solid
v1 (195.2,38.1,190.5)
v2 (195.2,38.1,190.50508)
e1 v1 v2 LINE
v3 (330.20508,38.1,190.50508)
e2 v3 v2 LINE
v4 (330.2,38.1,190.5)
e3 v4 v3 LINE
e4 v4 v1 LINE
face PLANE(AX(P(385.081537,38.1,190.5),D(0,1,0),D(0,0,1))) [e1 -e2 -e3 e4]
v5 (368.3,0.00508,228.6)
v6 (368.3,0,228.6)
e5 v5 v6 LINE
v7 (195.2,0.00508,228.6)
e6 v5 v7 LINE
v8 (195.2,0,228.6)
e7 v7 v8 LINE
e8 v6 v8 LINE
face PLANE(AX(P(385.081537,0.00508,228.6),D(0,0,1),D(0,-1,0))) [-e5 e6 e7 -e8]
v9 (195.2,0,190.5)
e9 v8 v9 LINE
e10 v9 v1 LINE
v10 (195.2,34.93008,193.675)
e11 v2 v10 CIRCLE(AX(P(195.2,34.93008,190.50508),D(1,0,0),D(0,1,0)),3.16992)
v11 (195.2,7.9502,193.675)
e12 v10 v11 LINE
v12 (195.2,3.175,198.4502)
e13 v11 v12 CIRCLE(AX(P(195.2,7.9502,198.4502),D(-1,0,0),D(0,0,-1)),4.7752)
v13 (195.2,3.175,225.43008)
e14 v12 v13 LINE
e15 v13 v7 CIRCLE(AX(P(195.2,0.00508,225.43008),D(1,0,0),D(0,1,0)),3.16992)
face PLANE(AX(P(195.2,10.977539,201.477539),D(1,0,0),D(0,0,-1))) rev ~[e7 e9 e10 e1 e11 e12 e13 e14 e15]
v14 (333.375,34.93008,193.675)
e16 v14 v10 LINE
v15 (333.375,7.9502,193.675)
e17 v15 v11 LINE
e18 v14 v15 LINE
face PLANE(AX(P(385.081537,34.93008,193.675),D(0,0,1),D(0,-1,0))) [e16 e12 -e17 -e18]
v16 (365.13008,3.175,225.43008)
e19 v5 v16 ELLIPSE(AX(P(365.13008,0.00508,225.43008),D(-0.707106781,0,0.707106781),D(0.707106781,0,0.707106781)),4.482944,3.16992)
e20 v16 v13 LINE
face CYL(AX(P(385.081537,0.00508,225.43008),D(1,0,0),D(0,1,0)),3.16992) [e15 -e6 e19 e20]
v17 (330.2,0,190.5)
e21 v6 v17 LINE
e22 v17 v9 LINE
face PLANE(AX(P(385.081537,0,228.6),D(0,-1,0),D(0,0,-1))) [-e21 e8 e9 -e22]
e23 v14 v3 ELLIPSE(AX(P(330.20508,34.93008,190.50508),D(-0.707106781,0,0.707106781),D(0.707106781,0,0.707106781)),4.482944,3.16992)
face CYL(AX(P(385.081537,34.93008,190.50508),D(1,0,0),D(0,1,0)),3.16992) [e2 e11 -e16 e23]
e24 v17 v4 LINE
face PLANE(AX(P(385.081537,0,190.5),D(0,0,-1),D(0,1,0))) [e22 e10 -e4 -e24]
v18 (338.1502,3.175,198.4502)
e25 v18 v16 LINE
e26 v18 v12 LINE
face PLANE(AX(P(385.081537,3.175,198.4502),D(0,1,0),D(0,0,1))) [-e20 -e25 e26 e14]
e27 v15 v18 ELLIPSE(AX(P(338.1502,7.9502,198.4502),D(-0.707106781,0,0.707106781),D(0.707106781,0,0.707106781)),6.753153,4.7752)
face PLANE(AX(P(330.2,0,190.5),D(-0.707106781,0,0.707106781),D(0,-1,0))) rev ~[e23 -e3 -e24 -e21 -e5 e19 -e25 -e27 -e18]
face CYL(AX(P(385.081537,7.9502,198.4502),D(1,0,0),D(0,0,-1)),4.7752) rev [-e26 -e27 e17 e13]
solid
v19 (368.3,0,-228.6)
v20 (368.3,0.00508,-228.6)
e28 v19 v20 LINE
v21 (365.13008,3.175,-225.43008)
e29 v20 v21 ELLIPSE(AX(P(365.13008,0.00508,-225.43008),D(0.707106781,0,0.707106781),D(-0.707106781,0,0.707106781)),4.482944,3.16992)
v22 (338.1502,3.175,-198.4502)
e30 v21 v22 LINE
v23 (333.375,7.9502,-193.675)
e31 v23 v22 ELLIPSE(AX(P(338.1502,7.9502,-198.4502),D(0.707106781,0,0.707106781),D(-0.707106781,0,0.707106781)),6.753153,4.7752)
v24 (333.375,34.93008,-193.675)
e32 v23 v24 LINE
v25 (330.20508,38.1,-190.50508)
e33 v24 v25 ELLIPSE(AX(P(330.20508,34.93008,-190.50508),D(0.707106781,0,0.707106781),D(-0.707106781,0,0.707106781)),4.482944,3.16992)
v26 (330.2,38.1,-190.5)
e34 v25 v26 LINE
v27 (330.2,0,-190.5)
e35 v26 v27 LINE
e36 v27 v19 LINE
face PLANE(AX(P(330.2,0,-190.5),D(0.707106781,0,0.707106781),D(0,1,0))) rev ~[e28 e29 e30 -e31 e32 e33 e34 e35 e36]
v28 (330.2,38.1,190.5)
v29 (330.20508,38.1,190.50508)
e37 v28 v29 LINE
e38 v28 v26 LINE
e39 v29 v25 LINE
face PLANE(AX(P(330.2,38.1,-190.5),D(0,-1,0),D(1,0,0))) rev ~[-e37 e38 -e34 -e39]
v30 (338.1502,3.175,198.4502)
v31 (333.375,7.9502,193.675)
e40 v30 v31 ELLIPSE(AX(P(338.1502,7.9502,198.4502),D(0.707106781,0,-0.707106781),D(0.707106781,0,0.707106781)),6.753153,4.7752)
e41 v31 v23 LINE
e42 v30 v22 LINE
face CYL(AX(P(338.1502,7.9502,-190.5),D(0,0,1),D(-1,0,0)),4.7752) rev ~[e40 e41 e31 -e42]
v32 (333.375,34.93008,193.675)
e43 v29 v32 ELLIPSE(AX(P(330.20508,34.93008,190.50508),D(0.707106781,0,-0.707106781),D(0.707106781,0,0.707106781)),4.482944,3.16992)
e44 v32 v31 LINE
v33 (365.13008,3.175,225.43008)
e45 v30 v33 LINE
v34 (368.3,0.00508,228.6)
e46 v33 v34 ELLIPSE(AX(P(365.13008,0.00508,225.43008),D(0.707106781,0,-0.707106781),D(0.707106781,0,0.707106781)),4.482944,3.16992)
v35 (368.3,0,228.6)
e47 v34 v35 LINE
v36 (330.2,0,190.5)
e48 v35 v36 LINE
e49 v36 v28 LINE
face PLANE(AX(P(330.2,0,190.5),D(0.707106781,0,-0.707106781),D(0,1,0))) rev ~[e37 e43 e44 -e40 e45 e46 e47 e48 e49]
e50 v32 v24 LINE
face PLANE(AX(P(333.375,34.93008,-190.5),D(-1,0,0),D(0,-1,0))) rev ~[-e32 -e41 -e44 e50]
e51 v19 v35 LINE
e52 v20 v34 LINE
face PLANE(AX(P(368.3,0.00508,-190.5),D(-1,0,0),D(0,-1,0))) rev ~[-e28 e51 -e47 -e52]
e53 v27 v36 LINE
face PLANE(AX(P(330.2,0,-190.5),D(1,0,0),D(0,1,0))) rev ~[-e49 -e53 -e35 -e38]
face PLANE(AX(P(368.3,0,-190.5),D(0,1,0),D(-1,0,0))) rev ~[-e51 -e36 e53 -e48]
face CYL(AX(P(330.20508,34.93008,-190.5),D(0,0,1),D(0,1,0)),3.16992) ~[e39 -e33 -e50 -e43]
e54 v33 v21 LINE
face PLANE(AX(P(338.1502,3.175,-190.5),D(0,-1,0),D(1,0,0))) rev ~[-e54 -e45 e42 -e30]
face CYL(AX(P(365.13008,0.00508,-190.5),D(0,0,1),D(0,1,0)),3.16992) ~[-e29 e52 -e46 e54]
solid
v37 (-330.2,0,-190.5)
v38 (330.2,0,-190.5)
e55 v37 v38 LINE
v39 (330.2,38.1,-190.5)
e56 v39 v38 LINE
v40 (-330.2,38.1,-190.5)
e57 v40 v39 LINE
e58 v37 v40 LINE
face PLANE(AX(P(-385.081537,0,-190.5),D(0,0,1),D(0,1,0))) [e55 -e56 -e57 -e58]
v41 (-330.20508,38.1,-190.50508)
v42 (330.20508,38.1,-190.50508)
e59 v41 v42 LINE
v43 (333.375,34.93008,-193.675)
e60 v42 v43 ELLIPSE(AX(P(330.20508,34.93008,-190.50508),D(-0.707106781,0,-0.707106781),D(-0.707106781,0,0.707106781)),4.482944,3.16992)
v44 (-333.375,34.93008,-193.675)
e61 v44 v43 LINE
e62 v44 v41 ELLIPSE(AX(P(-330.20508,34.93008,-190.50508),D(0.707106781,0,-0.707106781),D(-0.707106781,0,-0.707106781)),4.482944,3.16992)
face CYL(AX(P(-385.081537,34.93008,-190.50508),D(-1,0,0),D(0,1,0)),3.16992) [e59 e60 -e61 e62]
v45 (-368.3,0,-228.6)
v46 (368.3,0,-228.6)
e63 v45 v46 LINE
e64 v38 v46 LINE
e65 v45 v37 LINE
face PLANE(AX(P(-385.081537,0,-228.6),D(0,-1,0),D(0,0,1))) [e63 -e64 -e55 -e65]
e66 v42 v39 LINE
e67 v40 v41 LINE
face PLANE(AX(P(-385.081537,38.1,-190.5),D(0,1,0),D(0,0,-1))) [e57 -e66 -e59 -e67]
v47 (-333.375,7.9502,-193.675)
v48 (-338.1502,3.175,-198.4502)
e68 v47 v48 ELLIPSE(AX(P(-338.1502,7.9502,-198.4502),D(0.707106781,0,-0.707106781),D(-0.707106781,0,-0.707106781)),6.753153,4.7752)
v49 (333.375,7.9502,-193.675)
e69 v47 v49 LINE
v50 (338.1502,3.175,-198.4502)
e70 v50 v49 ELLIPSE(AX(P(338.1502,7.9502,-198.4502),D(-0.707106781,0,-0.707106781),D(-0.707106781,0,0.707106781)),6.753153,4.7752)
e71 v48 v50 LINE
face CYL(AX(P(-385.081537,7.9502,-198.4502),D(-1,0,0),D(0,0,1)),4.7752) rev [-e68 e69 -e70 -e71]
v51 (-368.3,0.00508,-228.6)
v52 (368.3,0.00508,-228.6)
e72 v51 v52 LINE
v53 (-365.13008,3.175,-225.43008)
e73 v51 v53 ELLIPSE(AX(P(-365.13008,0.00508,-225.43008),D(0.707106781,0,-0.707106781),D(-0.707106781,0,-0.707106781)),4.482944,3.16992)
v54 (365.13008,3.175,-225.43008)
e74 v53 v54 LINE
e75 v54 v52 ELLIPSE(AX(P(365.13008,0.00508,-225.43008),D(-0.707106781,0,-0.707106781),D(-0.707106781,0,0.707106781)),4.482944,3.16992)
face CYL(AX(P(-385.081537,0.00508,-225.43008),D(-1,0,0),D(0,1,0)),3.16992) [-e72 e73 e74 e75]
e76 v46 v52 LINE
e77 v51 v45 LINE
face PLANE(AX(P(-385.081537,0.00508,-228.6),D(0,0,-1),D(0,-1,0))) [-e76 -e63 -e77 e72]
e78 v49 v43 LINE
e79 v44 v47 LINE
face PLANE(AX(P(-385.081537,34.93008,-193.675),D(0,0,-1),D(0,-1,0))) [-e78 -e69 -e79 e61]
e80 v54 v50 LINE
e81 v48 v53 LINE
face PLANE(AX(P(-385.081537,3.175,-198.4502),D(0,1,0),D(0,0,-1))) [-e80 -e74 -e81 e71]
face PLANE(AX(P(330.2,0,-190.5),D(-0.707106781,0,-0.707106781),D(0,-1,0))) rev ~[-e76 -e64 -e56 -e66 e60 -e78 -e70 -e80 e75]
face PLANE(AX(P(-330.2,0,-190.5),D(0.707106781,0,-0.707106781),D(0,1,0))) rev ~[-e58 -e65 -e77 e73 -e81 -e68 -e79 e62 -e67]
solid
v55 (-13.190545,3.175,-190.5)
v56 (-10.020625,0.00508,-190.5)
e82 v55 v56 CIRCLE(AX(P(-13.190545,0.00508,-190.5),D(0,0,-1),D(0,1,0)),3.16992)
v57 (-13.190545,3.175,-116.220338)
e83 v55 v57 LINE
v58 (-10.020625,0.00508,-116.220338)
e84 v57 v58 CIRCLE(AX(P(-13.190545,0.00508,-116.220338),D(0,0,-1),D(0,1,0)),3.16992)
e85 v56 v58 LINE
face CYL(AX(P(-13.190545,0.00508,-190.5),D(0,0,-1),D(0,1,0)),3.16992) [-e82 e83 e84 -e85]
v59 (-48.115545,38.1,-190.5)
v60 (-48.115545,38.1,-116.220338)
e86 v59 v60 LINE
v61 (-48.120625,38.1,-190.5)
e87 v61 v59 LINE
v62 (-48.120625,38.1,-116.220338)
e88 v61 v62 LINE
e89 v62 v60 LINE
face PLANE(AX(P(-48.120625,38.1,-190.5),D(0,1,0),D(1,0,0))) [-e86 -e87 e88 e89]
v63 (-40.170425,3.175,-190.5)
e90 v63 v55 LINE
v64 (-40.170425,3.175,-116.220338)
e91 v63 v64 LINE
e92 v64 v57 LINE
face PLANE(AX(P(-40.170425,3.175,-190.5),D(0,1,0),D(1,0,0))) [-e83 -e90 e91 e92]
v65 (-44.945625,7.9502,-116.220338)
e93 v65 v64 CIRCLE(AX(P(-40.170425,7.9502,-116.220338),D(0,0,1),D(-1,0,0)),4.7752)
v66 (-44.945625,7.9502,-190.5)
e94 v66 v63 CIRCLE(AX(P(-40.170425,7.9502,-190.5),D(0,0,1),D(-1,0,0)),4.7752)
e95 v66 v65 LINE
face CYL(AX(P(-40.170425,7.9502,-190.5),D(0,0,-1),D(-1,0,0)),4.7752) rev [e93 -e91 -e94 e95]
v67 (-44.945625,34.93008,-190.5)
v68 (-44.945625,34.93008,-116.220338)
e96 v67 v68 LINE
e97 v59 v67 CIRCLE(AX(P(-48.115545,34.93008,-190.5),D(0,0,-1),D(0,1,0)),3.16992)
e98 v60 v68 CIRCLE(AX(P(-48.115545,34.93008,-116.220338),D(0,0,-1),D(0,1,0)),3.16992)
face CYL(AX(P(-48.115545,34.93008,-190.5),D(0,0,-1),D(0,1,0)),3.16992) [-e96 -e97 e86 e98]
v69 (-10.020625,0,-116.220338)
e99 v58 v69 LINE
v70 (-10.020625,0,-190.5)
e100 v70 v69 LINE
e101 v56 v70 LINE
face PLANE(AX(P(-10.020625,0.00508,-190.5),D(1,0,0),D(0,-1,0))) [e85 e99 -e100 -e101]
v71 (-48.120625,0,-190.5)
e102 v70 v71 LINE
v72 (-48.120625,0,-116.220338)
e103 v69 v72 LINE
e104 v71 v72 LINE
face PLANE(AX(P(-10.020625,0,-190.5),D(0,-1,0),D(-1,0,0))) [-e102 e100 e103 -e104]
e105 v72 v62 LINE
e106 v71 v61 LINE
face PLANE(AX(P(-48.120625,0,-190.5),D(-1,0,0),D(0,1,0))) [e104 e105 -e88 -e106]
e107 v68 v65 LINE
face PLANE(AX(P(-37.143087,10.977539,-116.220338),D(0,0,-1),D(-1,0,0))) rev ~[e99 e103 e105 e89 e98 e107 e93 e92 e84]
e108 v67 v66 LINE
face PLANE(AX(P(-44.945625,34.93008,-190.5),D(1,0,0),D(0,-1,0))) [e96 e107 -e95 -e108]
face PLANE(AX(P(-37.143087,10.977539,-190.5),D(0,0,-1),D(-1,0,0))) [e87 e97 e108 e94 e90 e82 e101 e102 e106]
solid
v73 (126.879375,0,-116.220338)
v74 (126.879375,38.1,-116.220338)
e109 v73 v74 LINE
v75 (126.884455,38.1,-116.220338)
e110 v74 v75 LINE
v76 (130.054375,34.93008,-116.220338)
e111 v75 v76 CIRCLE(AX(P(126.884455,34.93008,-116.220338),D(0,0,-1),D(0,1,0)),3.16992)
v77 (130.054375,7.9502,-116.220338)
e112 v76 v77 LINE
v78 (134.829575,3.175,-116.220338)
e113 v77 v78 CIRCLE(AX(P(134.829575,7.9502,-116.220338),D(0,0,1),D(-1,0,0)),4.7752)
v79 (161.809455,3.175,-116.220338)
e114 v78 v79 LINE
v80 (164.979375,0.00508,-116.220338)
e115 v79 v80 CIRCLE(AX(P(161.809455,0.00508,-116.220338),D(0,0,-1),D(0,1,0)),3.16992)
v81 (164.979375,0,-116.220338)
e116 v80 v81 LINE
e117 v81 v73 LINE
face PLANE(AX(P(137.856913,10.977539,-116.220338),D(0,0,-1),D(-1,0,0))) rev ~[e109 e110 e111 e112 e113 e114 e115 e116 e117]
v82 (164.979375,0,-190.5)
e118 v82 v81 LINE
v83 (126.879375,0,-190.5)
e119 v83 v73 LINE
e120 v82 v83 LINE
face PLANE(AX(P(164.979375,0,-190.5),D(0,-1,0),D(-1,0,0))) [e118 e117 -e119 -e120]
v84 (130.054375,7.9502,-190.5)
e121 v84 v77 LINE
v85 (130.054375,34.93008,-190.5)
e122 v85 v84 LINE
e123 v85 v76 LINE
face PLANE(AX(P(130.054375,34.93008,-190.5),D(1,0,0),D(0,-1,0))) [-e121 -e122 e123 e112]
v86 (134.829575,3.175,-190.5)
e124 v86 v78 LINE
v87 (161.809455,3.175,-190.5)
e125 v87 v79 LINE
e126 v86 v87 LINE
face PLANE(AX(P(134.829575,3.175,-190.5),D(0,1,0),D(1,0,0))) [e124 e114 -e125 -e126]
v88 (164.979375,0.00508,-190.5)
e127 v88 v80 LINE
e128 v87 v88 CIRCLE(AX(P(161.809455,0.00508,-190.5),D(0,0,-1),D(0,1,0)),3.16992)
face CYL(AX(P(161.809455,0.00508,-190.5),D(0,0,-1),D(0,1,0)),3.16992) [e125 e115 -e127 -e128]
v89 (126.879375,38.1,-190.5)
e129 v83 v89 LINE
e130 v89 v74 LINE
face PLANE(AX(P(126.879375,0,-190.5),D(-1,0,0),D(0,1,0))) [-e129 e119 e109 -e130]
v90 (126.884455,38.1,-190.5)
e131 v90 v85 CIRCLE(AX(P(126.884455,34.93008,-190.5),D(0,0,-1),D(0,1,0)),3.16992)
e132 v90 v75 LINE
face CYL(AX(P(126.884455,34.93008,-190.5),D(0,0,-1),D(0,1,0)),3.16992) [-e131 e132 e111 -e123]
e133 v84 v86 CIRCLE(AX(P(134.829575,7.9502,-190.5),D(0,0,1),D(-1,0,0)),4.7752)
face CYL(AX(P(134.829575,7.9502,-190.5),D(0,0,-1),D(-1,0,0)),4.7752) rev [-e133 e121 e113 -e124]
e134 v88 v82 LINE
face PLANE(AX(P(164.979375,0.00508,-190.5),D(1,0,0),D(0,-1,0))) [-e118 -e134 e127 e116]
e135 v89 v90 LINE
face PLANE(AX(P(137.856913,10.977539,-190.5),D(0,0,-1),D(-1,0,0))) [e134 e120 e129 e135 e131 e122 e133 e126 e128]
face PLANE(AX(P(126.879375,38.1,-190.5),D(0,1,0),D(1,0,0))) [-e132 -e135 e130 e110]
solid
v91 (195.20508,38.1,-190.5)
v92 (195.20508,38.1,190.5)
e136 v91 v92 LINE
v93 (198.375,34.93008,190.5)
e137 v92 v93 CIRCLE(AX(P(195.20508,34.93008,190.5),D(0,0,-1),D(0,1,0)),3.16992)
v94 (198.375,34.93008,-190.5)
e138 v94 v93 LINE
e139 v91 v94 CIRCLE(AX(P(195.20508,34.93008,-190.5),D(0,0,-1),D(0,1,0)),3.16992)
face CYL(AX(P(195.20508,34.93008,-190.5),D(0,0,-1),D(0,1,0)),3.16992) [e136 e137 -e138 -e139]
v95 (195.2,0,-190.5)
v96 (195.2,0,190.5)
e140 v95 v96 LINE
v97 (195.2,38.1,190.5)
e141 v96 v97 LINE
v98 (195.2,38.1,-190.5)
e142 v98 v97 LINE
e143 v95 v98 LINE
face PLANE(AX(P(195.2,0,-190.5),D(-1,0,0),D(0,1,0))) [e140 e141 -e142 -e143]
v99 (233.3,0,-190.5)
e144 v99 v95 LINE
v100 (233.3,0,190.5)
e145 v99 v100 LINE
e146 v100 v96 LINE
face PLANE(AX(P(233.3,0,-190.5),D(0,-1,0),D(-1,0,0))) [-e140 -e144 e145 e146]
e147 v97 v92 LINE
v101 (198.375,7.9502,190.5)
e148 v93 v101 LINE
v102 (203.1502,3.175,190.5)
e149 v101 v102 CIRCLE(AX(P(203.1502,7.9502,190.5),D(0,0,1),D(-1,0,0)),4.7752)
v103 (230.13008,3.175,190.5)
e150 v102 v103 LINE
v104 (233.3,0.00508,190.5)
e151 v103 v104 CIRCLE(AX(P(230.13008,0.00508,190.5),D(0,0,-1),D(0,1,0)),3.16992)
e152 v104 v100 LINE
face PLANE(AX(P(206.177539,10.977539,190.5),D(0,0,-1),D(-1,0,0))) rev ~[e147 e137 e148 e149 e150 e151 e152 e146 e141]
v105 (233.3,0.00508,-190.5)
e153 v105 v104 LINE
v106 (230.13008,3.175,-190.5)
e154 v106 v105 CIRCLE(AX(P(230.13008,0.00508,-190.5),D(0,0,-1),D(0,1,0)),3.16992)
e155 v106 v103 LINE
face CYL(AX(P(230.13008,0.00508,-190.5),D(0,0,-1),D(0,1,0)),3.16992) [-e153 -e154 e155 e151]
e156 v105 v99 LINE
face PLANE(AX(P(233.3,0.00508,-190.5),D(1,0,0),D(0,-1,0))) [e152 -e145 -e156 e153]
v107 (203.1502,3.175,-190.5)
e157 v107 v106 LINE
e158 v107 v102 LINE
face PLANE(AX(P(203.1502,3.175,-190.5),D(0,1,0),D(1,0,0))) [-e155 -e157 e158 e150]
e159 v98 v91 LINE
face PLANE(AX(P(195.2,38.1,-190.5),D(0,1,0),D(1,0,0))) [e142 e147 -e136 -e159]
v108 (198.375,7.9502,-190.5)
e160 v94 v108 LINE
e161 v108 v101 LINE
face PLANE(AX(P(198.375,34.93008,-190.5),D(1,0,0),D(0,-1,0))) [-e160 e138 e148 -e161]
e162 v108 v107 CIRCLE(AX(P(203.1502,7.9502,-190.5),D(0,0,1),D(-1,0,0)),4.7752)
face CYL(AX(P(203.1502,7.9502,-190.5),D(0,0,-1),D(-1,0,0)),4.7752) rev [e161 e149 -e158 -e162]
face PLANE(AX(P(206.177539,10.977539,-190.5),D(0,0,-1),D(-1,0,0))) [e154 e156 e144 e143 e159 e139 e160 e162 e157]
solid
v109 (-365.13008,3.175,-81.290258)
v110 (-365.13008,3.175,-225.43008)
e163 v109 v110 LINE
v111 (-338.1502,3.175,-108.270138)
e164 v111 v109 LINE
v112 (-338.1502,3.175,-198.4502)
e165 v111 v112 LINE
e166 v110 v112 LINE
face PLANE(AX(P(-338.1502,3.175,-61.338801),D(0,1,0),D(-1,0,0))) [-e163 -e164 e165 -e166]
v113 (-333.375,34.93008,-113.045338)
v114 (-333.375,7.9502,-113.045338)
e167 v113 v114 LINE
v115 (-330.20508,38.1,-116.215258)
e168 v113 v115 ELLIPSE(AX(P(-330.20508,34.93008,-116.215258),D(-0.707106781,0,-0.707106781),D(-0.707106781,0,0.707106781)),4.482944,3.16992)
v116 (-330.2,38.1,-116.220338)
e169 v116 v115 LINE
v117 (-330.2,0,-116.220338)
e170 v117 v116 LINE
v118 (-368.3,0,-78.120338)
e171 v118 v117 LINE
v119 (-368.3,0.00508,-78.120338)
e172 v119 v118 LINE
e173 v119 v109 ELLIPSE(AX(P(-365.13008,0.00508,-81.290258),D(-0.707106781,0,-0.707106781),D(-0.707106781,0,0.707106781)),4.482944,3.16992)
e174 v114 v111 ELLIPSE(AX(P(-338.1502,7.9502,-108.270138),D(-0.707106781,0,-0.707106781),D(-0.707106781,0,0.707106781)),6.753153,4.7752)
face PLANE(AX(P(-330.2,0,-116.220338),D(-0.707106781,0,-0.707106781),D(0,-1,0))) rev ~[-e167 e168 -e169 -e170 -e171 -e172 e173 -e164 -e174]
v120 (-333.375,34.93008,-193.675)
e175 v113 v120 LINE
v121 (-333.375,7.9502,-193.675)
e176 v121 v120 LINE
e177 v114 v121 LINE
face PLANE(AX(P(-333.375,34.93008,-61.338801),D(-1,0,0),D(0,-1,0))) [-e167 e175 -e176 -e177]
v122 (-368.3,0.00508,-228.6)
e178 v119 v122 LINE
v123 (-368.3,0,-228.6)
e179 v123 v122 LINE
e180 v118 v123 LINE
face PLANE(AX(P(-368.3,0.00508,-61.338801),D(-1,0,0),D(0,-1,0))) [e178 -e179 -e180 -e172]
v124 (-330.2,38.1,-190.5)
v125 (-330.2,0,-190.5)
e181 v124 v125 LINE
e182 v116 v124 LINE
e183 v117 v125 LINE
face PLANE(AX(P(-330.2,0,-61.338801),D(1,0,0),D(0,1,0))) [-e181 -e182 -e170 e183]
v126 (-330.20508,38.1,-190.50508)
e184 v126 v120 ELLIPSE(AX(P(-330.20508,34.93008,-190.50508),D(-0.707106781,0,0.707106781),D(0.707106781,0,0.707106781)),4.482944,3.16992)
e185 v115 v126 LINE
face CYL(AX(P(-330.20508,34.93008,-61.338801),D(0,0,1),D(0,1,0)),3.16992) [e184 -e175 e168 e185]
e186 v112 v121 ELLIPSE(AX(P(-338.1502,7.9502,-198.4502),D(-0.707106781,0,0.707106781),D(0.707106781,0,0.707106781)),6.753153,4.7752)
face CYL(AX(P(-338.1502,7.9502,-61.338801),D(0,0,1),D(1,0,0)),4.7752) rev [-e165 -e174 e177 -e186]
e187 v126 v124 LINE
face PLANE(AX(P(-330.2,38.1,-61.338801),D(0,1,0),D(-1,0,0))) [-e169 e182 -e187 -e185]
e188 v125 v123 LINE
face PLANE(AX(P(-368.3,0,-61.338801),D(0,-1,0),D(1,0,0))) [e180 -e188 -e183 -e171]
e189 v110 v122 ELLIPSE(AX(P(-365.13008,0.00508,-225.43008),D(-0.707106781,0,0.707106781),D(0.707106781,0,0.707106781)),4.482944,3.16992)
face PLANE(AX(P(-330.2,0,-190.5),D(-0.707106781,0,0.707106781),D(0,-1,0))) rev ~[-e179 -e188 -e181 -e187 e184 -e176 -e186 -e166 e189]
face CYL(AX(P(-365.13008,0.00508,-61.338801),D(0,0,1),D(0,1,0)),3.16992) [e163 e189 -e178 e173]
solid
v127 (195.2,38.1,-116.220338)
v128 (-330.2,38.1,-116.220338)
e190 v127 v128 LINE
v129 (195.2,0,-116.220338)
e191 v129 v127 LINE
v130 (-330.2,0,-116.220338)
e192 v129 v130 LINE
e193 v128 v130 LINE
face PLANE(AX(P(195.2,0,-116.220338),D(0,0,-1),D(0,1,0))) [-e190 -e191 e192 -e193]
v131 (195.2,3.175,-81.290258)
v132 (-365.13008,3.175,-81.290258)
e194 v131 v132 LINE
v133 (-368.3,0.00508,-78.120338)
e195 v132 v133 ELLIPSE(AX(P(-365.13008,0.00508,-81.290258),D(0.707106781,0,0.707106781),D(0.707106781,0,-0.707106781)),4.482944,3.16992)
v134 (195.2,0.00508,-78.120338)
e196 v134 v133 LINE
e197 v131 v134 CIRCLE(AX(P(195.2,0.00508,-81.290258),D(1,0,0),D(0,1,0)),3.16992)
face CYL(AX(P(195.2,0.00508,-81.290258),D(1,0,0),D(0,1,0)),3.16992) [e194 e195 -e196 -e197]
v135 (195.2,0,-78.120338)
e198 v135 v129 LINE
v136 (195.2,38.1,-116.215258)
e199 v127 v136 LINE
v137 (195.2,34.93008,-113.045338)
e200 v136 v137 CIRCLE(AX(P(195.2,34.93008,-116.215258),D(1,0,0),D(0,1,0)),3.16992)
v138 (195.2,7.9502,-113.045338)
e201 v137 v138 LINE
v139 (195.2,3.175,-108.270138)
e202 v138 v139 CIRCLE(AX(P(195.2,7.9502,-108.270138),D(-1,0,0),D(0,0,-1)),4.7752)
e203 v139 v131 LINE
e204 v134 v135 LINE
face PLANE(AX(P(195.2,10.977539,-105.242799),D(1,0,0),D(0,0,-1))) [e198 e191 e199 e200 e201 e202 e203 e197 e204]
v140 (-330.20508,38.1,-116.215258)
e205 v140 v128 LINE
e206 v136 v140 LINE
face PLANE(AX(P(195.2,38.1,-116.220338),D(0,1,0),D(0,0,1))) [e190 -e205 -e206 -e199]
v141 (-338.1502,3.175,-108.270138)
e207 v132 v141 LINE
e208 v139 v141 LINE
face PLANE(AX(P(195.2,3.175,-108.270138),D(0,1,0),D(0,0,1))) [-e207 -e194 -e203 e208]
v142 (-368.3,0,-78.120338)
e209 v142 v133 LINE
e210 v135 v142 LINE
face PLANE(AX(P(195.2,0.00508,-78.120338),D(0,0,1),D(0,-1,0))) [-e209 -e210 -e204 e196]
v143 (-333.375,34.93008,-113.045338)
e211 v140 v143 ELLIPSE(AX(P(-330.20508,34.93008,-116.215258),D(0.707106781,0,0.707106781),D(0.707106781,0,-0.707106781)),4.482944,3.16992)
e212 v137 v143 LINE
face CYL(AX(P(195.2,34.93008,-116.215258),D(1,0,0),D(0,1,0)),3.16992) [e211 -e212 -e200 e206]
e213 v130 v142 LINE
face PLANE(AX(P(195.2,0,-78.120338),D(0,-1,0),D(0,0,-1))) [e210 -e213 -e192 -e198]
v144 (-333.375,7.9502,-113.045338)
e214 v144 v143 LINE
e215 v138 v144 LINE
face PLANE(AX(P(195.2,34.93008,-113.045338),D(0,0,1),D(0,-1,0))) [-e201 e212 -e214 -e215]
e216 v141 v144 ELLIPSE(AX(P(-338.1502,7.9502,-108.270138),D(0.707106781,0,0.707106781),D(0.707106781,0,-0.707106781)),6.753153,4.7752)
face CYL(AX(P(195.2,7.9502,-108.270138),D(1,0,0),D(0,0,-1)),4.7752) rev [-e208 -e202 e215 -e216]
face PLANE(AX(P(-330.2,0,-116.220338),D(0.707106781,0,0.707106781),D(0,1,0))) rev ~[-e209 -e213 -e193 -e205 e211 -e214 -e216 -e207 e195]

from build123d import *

# Parameters (mm, degrees)
STRUCTURAL_MEMBER4_DEPTH        = 580.281536726
STRUCTURAL_MEMBER4_2_DEPTH      = 184.04273572
STRUCTURAL_MEMBER4_3_DEPTH      = 770.163073453
STRUCTURAL_MEMBER4_4_DEPTH      = 435.881536726
STRUCTURAL_MEMBER4_4_DEPTH_BACK = 54.881536726
STRUCTURAL_MEMBER4_5_DEPTH      = 189.881536726
STRUCTURAL_MEMBER5_DEPTH        = 381
STRUCTURAL_MEMBER5_2_DEPTH      = 74.279662267
STRUCTURAL_MEMBER5_3_DEPTH      = 74.279662267


with BuildPart() as part:
    # Sketch114 on segment 1 (carried to segment 1) → Structural Member4 (new body)
    with BuildSketch(Plane(origin=(195.2, 0, -116.220337733), x_dir=(0, 0, 1), z_dir=(-1, 0, 0))):
        with BuildLine():
            Line((0, 0), (0, 38.1))
            Line((0, 38.1), (0.00508, 38.1))
            ThreePointArc((0.00508, 38.1), (2.246551928, 37.171551928), (3.175, 34.93008))
            Line((3.175, 34.93008), (3.175, 7.9502))
            ThreePointArc((3.175, 7.9502), (4.573623698, 4.573623698), (7.9502, 3.175))
            Line((7.9502, 3.175), (34.93008, 3.175))
            ThreePointArc((34.93008, 3.175), (37.171551928, 2.246551928), (38.1, 0.00508))
            Line((38.1, 0.00508), (38.1, 0))
            Line((38.1, 0), (0, 0))
        make_face()
    extrude(amount=STRUCTURAL_MEMBER4_DEPTH)

    # Structural Member4 mitre 1
    split(bisect_by=Plane(origin=(-330.2, 0, -116.220337733), x_dir=(0, 1, 0), z_dir=(0.707106781, 0, 0.707106781)), keep=Keep.TOP)


with BuildPart() as body_2:
    # Sketch114 on segment 2 (carried to segment 2) → Structural Member4 2 (new body)
    with BuildSketch(Plane(origin=(-330.2, 0, -61.338801007), x_dir=(-1, 0, 0), z_dir=(0, 0, -1))):
        with BuildLine():
            Line((0, 0), (0, 38.1))
            Line((0, 38.1), (0.00508, 38.1))
            ThreePointArc((0.00508, 38.1), (2.246551928, 37.171551928), (3.175, 34.93008))
            Line((3.175, 34.93008), (3.175, 7.9502))
            ThreePointArc((3.175, 7.9502), (4.573623698, 4.573623698), (7.9502, 3.175))
            Line((7.9502, 3.175), (34.93008, 3.175))
            ThreePointArc((34.93008, 3.175), (37.171551928, 2.246551928), (38.1, 0.00508))
            Line((38.1, 0.00508), (38.1, 0))
            Line((38.1, 0), (0, 0))
        make_face()
    extrude(amount=STRUCTURAL_MEMBER4_2_DEPTH)

    # Structural Member4 2 mitre 1
    split(bisect_by=Plane(origin=(-330.2, 0, -190.5), x_dir=(0, -1, 0), z_dir=(-0.707106781, 0, 0.707106781)), keep=Keep.TOP)

    # Structural Member4 2 mitre 2
    split(bisect_by=Plane(origin=(-330.2, 0, -116.220337733), x_dir=(0, -1, 0), z_dir=(-0.707106781, 0, -0.707106781)), keep=Keep.TOP)


with BuildPart() as body_3:
    # Sketch114 on segment 3 (carried to segment 3) → Structural Member4 3 (new body)
    with BuildSketch(Plane(origin=(-385.081536726, 0, -190.5), x_dir=(0, 0, -1), z_dir=(1, 0, 0))):
        with BuildLine():
            Line((0, 0), (0, 38.1))
            Line((0, 38.1), (0.00508, 38.1))
            ThreePointArc((0.00508, 38.1), (2.246551928, 37.171551928), (3.175, 34.93008))
            Line((3.175, 34.93008), (3.175, 7.9502))
            ThreePointArc((3.175, 7.9502), (4.573623698, 4.573623698), (7.9502, 3.175))
            Line((7.9502, 3.175), (34.93008, 3.175))
            ThreePointArc((34.93008, 3.175), (37.171551928, 2.246551928), (38.1, 0.00508))
            Line((38.1, 0.00508), (38.1, 0))
            Line((38.1, 0), (0, 0))
        make_face()
    extrude(amount=STRUCTURAL_MEMBER4_3_DEPTH)

    # Structural Member4 3 mitre 1
    split(bisect_by=Plane(origin=(-330.2, 0, -190.5), x_dir=(0, 1, 0), z_dir=(0.707106781, 0, -0.707106781)), keep=Keep.TOP)

    # Structural Member4 3 mitre 2
    split(bisect_by=Plane(origin=(330.2, 0, -190.5), x_dir=(0, -1, 0), z_dir=(-0.707106781, 0, -0.707106781)), keep=Keep.TOP)


with BuildPart() as body_4:
    # Sketch114 → Structural Member4 4 (new, two sides)
    with BuildSketch(Plane(origin=(330.2, 0, -190.5), x_dir=(1, 0, 0), z_dir=(0, 0, 1))) as structural_member4_4_sk:
        with BuildLine():
            Line((0, 0), (0, 38.1))
            Line((0, 38.1), (0.00508, 38.1))
            ThreePointArc((0.00508, 38.1), (2.246551928, 37.171551928), (3.175, 34.93008))
            Line((3.175, 34.93008), (3.175, 7.9502))
            ThreePointArc((3.175, 7.9502), (4.573623698, 4.573623698), (7.9502, 3.175))
            Line((7.9502, 3.175), (34.93008, 3.175))
            ThreePointArc((34.93008, 3.175), (37.171551928, 2.246551928), (38.1, 0.00508))
            Line((38.1, 0.00508), (38.1, 0))
            Line((38.1, 0), (0, 0))
        make_face()
    extrude(amount=STRUCTURAL_MEMBER4_4_DEPTH)
    extrude(structural_member4_4_sk.sketch, amount=-STRUCTURAL_MEMBER4_4_DEPTH_BACK)

    # Structural Member4 4 mitre 1
    split(bisect_by=Plane(origin=(330.2, 0, -190.5), x_dir=(0, 1, 0), z_dir=(0.707106781, 0, 0.707106781)), keep=Keep.TOP)

    # Structural Member4 4 mitre 2
    split(bisect_by=Plane(origin=(330.2, 0, 190.5), x_dir=(0, 1, 0), z_dir=(0.707106781, 0, -0.707106781)), keep=Keep.TOP)


with BuildPart() as body_5:
    # Sketch114 on segment 5 (carried to segment 5) → Structural Member4 5 (new body)
    with BuildSketch(Plane(origin=(385.081536726, 0, 190.5), x_dir=(0, 0, 1), z_dir=(-1, 0, 0))):
        with BuildLine():
            Line((0, 0), (0, 38.1))
            Line((0, 38.1), (0.00508, 38.1))
            ThreePointArc((0.00508, 38.1), (2.246551928, 37.171551928), (3.175, 34.93008))
            Line((3.175, 34.93008), (3.175, 7.9502))
            ThreePointArc((3.175, 7.9502), (4.573623698, 4.573623698), (7.9502, 3.175))
            Line((7.9502, 3.175), (34.93008, 3.175))
            ThreePointArc((34.93008, 3.175), (37.171551928, 2.246551928), (38.1, 0.00508))
            Line((38.1, 0.00508), (38.1, 0))
            Line((38.1, 0), (0, 0))
        make_face()
    extrude(amount=STRUCTURAL_MEMBER4_5_DEPTH)

    # Structural Member4 5 mitre 1
    split(bisect_by=Plane(origin=(330.2, 0, 190.5), x_dir=(0, -1, 0), z_dir=(-0.707106781, 0, 0.707106781)), keep=Keep.TOP)


with BuildPart() as body_6:
    # Sketch115 → Structural Member5 (new body)
    with BuildSketch(Plane(origin=(195.2, 0, -190.5), x_dir=(1, 0, 0), z_dir=(0, 0, 1))):
        with BuildLine():
            Line((0, 0), (0, 38.1))
            Line((0, 38.1), (0.00508, 38.1))
            ThreePointArc((0.00508, 38.1), (2.246551928, 37.171551928), (3.175, 34.93008))
            Line((3.175, 34.93008), (3.175, 7.9502))
            ThreePointArc((3.175, 7.9502), (4.573623698, 4.573623698), (7.9502, 3.175))
            Line((7.9502, 3.175), (34.93008, 3.175))
            ThreePointArc((34.93008, 3.175), (37.171551928, 2.246551928), (38.1, 0.00508))
            Line((38.1, 0.00508), (38.1, 0))
            Line((38.1, 0), (0, 0))
        make_face()
    extrude(amount=STRUCTURAL_MEMBER5_DEPTH)


with BuildPart() as body_7:
    # Sketch115 on segment 2 (carried to segment 2) → Structural Member5 2 (new body)
    with BuildSketch(Plane(origin=(126.879374737, 0, -190.5), x_dir=(1, 0, 0), z_dir=(0, 0, 1))):
        with BuildLine():
            Line((0, 0), (0, 38.1))
            Line((0, 38.1), (0.00508, 38.1))
            ThreePointArc((0.00508, 38.1), (2.246551928, 37.171551928), (3.175, 34.93008))
            Line((3.175, 34.93008), (3.175, 7.9502))
            ThreePointArc((3.175, 7.9502), (4.573623698, 4.573623698), (7.9502, 3.175))
            Line((7.9502, 3.175), (34.93008, 3.175))
            ThreePointArc((34.93008, 3.175), (37.171551928, 2.246551928), (38.1, 0.00508))
            Line((38.1, 0.00508), (38.1, 0))
            Line((38.1, 0), (0, 0))
        make_face()
    extrude(amount=STRUCTURAL_MEMBER5_2_DEPTH)


with BuildPart() as body_8:
    # Sketch115 on segment 3 (carried to segment 3) → Structural Member5 3 (new body)
    with BuildSketch(Plane(origin=(-48.120625263, 0, -190.5), x_dir=(1, 0, 0), z_dir=(0, 0, 1))):
        with BuildLine():
            Line((0, 0), (0, 38.1))
            Line((0, 38.1), (0.00508, 38.1))
            ThreePointArc((0.00508, 38.1), (2.246551928, 37.171551928), (3.175, 34.93008))
            Line((3.175, 34.93008), (3.175, 7.9502))
            ThreePointArc((3.175, 7.9502), (4.573623698, 4.573623698), (7.9502, 3.175))
            Line((7.9502, 3.175), (34.93008, 3.175))
            ThreePointArc((34.93008, 3.175), (37.171551928, 2.246551928), (38.1, 0.00508))
            Line((38.1, 0.00508), (38.1, 0))
            Line((38.1, 0), (0, 0))
        make_face()
    extrude(amount=STRUCTURAL_MEMBER5_3_DEPTH)


solid = Compound([part.part, body_2.part, body_3.part, body_4.part, body_5.part, body_6.part, body_7.part, body_8.part])
